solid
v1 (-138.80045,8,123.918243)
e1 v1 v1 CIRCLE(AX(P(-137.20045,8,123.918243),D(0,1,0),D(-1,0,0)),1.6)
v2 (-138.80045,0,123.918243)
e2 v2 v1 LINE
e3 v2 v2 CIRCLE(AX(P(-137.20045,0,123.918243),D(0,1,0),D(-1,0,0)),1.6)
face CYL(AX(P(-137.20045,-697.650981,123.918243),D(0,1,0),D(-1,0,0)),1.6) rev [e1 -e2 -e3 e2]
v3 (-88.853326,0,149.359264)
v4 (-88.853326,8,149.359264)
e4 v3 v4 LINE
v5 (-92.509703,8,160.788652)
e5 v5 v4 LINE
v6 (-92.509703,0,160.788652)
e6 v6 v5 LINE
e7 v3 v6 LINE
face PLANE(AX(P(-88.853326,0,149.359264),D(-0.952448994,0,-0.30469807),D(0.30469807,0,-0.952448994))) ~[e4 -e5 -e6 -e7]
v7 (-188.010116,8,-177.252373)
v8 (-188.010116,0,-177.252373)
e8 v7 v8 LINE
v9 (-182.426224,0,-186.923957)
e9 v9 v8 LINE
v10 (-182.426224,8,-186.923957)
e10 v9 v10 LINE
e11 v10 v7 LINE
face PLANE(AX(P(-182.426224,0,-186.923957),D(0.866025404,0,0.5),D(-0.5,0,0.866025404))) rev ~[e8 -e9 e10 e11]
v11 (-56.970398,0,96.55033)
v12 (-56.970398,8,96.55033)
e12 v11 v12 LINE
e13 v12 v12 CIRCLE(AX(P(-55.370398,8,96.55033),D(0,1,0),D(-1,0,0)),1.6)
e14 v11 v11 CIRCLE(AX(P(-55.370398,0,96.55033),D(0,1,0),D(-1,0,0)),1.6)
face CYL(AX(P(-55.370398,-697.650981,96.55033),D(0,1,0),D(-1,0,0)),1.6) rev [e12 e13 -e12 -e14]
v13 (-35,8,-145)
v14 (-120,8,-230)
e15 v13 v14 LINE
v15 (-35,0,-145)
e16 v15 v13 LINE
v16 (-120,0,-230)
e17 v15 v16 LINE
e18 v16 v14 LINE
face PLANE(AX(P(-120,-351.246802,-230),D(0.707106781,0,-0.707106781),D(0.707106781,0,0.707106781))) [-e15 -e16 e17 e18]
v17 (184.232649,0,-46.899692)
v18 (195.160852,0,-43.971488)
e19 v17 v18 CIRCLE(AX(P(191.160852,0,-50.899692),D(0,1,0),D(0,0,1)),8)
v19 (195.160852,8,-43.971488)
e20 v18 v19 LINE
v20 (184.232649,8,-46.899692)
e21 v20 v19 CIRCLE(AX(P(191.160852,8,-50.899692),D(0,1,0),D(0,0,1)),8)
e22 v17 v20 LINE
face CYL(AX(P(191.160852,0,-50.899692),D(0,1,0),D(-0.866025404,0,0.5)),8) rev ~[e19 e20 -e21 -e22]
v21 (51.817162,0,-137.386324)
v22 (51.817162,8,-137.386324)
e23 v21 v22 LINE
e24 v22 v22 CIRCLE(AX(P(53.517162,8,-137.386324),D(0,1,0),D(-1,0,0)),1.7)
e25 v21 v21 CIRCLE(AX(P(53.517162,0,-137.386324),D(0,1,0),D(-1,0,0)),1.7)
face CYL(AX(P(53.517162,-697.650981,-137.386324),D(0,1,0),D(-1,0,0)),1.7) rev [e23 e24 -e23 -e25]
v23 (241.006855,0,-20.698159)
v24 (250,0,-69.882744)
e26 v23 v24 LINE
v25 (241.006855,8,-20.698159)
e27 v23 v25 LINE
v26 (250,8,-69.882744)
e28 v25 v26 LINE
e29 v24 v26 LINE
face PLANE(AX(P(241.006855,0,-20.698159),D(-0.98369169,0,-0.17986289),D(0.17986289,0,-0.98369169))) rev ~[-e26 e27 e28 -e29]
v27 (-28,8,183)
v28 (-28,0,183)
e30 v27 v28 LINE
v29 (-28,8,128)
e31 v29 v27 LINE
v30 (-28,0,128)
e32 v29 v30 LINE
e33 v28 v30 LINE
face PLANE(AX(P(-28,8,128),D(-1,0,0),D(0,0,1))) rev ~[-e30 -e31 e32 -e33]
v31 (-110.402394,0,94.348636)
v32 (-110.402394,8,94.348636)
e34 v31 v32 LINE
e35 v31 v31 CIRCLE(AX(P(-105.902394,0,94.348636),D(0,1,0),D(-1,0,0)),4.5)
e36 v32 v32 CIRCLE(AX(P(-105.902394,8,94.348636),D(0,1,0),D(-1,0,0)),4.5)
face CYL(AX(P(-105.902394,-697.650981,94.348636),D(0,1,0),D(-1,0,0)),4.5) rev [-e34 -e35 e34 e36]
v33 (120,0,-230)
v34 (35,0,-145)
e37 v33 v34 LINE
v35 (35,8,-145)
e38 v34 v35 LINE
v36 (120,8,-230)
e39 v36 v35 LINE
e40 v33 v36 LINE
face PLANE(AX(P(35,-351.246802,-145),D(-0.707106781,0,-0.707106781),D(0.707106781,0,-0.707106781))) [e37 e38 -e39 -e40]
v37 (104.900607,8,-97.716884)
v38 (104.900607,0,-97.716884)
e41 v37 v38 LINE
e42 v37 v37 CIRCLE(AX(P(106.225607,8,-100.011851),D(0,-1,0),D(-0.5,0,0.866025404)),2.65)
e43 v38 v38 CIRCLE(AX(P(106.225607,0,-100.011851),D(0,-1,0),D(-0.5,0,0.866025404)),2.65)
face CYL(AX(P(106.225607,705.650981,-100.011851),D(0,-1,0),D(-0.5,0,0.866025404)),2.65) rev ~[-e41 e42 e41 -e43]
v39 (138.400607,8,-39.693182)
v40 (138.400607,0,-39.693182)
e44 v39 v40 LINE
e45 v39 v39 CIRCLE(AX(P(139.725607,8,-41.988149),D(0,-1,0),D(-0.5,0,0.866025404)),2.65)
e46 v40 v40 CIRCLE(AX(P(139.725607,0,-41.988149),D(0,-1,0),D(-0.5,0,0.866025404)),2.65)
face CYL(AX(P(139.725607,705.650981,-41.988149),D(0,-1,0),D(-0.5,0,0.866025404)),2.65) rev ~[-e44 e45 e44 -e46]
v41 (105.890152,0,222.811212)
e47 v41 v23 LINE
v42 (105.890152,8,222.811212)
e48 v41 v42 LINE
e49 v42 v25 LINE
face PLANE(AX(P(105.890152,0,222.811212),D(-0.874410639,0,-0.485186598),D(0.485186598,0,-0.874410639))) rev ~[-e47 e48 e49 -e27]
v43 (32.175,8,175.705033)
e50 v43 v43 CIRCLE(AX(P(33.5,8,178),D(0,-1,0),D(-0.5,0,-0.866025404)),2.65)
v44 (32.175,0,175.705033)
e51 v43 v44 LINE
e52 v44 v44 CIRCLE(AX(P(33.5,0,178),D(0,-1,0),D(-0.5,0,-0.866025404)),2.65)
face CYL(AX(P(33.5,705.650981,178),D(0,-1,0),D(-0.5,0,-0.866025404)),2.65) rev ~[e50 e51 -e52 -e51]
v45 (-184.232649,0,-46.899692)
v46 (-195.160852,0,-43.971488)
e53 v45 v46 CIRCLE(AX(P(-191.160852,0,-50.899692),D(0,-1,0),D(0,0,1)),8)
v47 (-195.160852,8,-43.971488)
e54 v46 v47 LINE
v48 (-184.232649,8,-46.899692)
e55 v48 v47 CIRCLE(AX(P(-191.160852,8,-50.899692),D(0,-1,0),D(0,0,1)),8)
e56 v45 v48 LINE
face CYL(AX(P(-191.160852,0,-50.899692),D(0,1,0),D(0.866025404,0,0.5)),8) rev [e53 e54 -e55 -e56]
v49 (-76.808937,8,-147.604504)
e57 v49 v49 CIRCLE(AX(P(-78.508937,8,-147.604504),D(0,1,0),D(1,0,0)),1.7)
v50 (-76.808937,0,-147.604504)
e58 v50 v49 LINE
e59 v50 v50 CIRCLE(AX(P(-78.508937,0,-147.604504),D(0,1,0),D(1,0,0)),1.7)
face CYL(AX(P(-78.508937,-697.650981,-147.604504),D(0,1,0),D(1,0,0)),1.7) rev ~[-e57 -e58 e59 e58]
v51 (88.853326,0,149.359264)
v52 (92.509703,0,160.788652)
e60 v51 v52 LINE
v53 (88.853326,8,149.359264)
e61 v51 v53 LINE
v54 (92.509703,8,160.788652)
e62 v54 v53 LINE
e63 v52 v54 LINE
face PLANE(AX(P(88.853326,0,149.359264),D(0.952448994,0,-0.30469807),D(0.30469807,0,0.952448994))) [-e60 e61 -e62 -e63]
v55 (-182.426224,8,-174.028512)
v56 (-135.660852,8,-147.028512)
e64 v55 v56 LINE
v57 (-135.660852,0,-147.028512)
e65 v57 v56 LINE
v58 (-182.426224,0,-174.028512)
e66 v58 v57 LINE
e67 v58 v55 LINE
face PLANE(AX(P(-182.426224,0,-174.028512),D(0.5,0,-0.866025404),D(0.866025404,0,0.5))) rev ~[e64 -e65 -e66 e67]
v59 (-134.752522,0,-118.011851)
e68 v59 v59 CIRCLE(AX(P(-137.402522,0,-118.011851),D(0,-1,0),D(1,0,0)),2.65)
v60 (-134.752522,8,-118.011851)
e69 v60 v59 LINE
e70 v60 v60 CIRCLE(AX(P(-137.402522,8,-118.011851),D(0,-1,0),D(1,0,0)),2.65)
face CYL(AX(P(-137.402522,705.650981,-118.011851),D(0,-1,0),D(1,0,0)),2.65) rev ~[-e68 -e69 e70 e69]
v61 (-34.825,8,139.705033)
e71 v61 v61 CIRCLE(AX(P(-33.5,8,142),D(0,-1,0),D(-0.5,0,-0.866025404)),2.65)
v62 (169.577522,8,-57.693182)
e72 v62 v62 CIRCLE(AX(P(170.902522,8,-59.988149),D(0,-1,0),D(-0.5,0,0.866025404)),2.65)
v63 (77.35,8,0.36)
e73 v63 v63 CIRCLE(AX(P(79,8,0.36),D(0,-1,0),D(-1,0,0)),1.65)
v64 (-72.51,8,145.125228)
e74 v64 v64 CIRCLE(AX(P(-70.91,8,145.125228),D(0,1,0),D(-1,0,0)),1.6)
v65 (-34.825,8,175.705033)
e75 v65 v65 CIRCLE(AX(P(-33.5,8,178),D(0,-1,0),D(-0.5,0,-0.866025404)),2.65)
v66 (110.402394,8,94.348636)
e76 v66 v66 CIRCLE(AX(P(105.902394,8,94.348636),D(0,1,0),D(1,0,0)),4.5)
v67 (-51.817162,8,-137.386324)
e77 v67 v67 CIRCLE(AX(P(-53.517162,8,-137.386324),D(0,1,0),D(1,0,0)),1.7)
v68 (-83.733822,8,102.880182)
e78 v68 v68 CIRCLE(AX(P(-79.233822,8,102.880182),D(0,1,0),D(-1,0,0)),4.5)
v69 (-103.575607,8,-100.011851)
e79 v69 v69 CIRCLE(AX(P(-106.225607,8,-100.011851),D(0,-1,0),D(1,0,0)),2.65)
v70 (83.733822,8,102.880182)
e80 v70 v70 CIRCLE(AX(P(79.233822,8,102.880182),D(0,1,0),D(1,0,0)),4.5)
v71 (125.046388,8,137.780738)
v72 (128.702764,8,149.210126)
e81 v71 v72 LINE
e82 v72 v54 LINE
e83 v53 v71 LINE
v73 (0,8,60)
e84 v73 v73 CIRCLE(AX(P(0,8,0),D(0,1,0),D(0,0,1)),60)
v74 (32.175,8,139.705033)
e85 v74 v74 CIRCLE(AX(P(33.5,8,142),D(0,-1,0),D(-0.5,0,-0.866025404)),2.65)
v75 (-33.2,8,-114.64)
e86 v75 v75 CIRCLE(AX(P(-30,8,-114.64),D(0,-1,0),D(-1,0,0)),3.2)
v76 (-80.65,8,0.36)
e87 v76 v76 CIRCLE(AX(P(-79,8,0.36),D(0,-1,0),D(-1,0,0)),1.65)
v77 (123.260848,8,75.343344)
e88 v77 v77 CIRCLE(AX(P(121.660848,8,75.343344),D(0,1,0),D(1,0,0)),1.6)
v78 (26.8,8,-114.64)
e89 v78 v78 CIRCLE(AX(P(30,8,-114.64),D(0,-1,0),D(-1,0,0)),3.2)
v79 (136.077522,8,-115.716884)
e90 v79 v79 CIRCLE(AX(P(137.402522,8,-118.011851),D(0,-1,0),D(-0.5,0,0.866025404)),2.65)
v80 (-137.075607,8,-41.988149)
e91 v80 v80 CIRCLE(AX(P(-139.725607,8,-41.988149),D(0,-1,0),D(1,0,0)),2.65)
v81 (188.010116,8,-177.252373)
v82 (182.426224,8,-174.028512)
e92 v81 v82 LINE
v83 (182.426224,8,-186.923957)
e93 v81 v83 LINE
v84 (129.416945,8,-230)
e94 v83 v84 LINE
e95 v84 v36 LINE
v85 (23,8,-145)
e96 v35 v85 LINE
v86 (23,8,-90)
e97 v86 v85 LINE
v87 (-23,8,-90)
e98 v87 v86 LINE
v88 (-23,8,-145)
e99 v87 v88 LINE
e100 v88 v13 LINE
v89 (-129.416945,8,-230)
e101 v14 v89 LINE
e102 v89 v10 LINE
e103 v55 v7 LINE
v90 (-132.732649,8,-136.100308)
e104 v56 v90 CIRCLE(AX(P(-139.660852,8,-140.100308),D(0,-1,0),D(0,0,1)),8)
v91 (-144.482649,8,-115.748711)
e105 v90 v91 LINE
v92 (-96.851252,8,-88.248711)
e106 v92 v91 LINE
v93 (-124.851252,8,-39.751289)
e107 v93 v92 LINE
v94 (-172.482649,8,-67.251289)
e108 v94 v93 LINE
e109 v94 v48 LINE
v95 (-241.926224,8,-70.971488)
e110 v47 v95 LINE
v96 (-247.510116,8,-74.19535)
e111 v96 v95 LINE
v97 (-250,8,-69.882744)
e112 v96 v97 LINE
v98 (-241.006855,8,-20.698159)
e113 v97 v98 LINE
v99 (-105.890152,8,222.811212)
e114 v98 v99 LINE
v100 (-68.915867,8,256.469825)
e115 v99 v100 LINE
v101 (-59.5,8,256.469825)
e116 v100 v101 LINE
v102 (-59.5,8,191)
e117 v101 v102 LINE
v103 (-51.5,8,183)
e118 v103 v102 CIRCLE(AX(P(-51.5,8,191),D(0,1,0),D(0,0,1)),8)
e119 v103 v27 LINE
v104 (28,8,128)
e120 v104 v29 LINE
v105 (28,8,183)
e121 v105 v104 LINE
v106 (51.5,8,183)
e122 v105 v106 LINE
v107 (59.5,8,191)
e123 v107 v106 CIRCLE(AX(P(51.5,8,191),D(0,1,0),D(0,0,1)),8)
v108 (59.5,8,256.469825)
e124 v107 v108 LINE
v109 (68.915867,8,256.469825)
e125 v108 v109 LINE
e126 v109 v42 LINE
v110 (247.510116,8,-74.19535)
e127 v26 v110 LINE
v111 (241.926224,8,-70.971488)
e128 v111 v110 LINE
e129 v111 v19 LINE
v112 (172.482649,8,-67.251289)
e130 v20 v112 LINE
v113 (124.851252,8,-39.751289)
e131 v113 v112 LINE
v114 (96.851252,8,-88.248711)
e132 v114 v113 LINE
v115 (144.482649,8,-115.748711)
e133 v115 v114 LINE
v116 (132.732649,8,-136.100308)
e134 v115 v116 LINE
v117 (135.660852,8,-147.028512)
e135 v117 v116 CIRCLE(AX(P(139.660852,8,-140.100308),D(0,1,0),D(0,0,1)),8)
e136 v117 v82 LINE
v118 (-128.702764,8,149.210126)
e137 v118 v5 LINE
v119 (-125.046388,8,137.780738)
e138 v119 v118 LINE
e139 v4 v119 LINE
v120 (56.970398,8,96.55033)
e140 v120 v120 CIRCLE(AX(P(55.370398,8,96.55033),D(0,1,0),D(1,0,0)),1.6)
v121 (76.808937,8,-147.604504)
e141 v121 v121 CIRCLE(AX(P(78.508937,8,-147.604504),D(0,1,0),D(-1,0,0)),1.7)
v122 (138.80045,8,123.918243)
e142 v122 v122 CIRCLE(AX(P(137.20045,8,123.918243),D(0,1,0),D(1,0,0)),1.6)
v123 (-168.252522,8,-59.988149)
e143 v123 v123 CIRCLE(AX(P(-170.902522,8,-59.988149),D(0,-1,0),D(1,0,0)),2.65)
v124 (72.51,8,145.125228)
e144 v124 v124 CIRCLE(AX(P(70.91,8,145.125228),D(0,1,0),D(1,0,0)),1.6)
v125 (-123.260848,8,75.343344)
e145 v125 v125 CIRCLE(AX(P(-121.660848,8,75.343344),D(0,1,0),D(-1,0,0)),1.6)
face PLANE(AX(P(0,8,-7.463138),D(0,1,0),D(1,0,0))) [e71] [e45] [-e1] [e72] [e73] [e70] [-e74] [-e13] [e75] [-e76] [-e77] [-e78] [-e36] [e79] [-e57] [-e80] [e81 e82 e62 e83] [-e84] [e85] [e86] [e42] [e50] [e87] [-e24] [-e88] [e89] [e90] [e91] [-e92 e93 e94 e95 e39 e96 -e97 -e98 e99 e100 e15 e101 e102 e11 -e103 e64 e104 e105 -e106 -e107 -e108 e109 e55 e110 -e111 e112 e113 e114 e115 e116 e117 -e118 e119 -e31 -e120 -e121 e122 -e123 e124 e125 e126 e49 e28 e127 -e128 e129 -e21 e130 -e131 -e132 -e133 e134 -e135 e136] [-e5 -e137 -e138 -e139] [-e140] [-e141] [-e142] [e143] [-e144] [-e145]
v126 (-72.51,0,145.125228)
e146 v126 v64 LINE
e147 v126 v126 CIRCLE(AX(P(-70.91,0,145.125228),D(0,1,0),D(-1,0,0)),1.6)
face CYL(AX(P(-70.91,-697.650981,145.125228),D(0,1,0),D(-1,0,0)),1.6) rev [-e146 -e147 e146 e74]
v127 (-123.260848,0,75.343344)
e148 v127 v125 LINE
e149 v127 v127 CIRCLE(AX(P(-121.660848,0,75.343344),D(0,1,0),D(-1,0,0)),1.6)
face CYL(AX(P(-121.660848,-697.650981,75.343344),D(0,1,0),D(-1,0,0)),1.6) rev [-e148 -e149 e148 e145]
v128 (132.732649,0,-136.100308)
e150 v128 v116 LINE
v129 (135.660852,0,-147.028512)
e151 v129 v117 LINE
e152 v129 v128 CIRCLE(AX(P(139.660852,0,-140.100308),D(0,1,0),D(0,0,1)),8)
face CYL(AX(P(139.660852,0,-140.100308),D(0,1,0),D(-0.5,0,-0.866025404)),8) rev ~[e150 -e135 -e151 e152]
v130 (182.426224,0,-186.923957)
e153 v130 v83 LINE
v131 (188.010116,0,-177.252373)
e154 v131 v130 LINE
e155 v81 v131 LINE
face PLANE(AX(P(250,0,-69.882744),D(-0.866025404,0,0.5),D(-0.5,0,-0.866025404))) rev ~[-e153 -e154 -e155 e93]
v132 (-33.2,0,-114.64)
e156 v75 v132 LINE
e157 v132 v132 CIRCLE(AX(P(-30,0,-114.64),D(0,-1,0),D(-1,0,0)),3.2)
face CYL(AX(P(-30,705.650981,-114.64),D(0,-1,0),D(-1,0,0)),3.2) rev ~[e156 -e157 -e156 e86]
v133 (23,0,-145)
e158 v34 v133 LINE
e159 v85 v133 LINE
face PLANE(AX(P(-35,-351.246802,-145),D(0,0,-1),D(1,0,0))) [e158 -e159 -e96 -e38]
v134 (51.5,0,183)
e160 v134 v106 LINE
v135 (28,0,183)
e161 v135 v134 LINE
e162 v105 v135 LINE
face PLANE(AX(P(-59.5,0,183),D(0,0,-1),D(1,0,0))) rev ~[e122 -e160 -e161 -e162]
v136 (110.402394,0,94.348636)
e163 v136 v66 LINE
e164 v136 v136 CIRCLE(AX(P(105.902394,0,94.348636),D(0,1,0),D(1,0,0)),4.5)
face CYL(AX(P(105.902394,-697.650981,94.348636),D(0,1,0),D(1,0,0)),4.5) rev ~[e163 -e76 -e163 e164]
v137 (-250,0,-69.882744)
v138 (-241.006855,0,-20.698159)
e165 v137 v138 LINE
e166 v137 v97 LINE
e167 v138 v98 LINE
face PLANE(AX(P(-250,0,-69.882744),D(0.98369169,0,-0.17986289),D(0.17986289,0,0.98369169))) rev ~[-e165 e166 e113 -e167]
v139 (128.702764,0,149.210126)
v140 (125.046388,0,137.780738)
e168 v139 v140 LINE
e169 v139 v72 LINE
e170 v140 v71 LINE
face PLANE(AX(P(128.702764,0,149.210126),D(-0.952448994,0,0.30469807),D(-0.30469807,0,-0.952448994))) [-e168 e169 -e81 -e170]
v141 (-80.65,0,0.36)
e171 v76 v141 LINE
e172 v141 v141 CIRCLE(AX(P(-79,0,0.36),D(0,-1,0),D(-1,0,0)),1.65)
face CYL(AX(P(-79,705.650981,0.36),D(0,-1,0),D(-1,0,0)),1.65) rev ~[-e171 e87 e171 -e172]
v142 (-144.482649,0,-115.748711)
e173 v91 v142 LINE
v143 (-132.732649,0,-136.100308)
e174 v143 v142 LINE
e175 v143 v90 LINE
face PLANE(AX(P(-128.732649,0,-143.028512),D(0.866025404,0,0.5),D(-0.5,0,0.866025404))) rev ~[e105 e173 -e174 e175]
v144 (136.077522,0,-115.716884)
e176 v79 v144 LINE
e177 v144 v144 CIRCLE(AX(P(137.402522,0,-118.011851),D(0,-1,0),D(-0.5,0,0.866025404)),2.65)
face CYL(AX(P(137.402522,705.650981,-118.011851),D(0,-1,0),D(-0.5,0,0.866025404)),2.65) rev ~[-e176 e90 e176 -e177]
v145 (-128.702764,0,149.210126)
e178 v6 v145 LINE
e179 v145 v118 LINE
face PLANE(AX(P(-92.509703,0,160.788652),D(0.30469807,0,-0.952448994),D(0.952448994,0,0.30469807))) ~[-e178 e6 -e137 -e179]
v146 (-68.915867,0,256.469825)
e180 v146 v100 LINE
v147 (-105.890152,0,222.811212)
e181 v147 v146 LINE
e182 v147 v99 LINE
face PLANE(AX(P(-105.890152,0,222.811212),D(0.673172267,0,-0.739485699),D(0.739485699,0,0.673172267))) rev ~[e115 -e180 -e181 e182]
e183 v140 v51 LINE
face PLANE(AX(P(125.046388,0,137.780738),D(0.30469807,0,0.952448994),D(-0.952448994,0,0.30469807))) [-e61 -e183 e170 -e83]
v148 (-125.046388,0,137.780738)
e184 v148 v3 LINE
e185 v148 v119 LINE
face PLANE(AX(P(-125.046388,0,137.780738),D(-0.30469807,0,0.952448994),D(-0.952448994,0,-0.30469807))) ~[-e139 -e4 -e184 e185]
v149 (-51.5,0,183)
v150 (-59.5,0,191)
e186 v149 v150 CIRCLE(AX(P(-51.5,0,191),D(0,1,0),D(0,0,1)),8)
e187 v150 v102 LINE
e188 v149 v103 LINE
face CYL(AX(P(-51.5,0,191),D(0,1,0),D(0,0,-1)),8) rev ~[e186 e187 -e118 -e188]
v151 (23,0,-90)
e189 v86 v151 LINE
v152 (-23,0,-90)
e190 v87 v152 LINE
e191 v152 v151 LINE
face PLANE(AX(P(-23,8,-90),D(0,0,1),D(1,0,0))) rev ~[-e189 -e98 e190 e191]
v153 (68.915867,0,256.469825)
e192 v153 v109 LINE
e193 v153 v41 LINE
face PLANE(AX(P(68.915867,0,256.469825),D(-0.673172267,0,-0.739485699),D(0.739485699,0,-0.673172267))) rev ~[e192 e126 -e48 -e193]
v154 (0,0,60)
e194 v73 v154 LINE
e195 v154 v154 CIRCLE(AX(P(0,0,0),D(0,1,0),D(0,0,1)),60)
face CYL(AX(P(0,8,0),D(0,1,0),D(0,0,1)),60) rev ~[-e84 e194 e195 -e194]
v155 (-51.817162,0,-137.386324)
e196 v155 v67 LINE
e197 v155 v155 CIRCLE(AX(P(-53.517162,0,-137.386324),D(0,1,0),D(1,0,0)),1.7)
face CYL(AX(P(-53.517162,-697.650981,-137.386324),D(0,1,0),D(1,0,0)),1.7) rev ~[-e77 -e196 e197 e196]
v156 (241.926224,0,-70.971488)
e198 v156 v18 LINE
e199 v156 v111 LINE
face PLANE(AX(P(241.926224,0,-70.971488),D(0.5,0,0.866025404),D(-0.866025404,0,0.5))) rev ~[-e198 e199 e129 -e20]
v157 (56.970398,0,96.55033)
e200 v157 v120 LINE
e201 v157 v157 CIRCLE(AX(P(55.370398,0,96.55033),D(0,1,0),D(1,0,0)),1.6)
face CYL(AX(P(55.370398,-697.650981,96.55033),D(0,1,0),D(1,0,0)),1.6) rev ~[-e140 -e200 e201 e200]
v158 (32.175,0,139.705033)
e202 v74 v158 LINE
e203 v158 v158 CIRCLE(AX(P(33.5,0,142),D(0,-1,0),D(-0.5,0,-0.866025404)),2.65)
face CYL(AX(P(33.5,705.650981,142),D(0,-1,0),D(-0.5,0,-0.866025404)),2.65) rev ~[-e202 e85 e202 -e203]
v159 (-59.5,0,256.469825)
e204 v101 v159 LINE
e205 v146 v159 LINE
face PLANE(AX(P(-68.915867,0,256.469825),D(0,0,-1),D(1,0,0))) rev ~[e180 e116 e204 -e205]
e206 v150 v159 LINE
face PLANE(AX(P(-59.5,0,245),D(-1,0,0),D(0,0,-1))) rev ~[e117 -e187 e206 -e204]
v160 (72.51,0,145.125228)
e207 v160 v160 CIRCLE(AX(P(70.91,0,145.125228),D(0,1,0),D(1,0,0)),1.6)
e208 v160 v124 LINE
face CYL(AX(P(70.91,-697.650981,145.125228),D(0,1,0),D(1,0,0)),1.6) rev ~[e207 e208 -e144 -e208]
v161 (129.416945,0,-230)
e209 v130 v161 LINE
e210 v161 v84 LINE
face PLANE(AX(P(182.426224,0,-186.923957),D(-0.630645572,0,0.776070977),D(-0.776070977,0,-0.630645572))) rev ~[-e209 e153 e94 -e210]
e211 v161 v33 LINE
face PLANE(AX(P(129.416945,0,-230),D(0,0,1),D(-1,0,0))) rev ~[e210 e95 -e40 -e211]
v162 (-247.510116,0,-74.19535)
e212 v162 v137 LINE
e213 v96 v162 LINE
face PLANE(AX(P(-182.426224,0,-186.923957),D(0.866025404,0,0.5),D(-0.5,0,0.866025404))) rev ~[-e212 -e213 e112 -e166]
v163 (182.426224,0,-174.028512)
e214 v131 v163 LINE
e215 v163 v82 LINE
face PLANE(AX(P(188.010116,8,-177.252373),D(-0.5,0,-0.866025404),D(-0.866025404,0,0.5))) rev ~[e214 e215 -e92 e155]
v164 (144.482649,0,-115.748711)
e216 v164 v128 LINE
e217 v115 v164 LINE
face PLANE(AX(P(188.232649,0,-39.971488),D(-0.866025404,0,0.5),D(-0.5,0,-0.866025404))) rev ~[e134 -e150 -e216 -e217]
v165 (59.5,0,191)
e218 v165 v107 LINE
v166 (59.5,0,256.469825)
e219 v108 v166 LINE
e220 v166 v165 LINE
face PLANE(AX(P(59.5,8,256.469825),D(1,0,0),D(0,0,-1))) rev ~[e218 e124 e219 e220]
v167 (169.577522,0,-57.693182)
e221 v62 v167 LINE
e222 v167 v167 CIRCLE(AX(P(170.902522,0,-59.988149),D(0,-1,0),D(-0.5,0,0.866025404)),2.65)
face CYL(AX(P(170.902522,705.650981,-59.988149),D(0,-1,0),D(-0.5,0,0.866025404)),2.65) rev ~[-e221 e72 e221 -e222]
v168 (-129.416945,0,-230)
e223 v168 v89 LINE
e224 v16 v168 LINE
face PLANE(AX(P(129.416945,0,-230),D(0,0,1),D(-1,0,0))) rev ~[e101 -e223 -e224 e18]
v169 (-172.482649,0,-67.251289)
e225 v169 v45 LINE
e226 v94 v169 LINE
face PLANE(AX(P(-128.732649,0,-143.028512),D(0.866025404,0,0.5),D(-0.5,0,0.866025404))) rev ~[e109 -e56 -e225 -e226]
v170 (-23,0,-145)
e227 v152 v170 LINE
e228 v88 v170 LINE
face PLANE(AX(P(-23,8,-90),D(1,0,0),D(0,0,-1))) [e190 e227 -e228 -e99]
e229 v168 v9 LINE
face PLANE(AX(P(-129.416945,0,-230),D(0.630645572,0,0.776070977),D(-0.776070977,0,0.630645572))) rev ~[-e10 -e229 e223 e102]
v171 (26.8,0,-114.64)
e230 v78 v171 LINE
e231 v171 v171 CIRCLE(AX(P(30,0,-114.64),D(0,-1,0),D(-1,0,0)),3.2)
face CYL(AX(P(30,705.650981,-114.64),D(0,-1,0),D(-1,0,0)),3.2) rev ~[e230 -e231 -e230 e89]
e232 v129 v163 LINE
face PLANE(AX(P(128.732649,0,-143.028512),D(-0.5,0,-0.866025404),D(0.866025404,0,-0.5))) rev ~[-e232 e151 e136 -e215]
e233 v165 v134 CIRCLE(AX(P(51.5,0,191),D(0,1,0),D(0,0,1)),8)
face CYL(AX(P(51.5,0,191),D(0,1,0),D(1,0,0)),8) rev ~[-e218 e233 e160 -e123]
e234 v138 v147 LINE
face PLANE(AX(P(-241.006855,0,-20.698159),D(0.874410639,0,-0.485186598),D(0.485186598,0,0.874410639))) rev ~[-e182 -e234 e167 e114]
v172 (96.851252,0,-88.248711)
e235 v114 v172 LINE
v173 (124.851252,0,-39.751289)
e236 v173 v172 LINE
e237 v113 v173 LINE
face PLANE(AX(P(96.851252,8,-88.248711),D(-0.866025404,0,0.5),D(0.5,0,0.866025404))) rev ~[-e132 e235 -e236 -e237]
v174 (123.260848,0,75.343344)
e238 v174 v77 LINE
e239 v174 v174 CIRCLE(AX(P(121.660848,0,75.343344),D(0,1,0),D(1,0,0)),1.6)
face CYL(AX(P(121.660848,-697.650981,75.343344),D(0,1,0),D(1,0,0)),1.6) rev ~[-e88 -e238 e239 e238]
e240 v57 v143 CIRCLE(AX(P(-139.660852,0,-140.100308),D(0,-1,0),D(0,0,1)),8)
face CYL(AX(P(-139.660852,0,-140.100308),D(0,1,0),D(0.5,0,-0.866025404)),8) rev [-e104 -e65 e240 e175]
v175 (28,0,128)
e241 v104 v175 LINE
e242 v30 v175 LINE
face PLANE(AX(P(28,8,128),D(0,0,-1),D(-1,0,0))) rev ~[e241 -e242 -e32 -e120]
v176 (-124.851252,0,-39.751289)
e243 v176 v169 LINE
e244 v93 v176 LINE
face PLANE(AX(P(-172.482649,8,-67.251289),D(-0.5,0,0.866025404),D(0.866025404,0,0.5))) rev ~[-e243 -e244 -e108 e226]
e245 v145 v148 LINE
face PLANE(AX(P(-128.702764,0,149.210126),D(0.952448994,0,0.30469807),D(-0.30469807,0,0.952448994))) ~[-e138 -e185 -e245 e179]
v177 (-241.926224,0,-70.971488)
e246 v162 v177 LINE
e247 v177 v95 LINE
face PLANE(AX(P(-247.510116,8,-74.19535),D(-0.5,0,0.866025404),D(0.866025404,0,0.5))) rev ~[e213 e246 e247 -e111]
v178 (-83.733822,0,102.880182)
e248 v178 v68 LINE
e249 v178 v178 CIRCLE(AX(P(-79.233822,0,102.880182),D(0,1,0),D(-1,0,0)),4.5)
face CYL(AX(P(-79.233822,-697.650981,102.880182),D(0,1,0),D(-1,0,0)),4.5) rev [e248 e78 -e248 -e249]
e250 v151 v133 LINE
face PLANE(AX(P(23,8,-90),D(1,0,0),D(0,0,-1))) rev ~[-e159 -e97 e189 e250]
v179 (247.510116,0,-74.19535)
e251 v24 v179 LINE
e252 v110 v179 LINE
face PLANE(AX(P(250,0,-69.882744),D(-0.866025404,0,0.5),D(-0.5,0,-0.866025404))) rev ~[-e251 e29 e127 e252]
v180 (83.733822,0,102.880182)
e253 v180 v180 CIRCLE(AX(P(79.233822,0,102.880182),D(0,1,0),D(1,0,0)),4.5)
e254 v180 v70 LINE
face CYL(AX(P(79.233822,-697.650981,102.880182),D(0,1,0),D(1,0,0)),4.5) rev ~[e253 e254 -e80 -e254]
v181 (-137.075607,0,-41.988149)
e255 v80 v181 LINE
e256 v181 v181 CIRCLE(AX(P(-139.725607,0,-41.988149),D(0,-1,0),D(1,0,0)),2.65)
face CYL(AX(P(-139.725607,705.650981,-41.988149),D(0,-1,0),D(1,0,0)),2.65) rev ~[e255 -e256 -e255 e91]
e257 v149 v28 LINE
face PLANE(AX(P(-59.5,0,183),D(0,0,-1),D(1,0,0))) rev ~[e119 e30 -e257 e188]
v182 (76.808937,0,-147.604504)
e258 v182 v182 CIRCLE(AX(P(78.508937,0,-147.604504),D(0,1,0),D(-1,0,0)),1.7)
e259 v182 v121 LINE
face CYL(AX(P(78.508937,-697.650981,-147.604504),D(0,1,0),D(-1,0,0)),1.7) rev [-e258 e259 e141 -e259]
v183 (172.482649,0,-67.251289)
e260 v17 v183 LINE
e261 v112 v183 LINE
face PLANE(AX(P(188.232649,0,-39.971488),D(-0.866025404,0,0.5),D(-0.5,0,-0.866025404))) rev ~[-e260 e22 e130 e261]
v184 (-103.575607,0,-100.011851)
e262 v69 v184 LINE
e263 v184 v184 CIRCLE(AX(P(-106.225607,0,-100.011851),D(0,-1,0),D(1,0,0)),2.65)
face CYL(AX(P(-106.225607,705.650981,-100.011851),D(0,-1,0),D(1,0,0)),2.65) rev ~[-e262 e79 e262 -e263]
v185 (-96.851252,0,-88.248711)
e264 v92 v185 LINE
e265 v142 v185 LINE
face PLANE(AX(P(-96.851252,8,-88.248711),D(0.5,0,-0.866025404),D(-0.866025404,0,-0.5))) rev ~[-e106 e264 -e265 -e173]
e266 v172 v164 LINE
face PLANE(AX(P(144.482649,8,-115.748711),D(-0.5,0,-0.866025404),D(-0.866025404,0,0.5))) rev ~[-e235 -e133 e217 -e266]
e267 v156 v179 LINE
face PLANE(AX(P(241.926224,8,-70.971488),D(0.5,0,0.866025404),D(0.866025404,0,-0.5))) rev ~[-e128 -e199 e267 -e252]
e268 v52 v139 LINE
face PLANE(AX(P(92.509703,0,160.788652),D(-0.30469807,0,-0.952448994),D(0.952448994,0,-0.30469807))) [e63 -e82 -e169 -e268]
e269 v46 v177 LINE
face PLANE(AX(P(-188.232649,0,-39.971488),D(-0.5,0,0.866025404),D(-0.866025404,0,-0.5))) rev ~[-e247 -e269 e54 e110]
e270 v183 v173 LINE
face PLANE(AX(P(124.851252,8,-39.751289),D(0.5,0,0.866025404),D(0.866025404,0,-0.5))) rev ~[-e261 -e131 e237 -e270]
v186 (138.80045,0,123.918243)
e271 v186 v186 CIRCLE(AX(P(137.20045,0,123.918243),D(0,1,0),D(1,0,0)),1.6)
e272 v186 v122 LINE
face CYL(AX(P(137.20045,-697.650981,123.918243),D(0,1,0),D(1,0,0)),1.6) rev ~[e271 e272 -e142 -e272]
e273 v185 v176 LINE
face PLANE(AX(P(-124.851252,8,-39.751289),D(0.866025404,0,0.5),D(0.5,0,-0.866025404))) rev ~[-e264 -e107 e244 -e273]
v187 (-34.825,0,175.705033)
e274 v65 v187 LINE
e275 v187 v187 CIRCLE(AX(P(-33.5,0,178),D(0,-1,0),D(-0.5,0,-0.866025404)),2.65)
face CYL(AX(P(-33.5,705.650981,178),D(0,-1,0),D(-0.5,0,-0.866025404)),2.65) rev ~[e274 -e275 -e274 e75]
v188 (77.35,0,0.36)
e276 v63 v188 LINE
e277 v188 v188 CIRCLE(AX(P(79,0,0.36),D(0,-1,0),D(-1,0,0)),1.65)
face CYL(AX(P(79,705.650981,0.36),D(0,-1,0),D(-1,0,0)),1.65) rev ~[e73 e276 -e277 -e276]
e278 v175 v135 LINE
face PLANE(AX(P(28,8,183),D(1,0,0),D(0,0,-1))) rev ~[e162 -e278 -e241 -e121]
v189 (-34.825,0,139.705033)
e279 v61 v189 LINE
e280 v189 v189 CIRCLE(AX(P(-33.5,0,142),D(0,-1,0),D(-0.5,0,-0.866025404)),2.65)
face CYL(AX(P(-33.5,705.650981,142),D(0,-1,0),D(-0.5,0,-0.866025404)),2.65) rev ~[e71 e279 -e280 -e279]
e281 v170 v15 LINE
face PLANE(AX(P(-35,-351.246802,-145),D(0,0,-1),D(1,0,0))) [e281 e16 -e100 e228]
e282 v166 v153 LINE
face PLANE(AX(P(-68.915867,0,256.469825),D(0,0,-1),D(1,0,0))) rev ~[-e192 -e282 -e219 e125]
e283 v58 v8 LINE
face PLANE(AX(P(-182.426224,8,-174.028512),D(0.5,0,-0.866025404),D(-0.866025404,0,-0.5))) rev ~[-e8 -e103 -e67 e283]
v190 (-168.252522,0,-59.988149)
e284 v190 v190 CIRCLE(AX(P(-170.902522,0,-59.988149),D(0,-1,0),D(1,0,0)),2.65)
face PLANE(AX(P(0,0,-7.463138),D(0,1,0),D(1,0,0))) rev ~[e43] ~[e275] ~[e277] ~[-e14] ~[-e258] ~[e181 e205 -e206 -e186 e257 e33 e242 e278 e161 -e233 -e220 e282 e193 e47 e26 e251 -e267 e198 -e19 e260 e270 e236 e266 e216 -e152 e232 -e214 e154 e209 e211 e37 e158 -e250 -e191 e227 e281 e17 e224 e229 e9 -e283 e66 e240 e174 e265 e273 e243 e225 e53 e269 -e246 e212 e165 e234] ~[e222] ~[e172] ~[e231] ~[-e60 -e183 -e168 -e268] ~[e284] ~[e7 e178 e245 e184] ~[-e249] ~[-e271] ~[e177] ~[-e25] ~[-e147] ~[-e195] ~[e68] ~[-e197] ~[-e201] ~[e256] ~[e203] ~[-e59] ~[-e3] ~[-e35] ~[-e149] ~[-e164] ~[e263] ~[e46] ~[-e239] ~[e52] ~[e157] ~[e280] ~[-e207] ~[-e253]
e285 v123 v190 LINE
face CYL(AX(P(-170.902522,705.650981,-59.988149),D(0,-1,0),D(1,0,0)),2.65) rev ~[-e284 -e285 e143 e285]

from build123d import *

# Parameters (mm, degrees)
SKETCH_1_W               = 119
SKETCH_1_H               = 62
EXTRUDE_1_DEPTH          = 8
CUT_EXTRUDE_1_REACH      = 360.247
HOLE_WIZARD_M5_1_D       = 5.3
SKETCH_11_W              = 119
SKETCH_11_H              = 11.469825071
CUT_EXTRUDE_5_DEPTH      = 359.24680204
PATTERN_CIRCULAR_1_COUNT = 3
CUT_EXTRUDE_2_DEPTH      = 359.24680204
CUT_EXTRUDE_2_DEPTH_BACK = 359.24680204
SKETCH_7_W               = 46
SKETCH_7_H               = 140
CUT_EXTRUDE_4_DEPTH      = 359.24680204
HOLE_WIZARD_M6_1_D       = 6.4
CUT_EXTRUDE_6936_REACH   = 360.247
SKETCH_10_R              = 60
FILLET_4_R               = 8
HOLE_WIZARD_M4_1_D       = 3.3
HOLE_WIZARD_M3_1_D       = 3.2
HOLE_WIZARD_9_0_9_1_D    = 9
CUT_EXTRUDE_6_DEPTH      = 10
HOLE_WIZARD_M3_3_D       = 3.4


with BuildPart() as part:
    # 草图1 → 凸台-拉伸1 (new body)
    with BuildSketch(Plane(origin=(0, 0, 0), x_dir=(1, 0, 0), z_dir=(0, 1, 0))):
        Polygon((-182.426223927, 186.923957016), (-250, 69.882743599), (-241.006855494, 20.698159104), (-105.890151719, -222.811211717), (-68.915866776, -256.469825071), (68.915866776, -256.469825071), (105.890151719, -222.811211717), (241.006855494, 20.698159104), (250, 69.882743599), (182.426223927, 186.923957016), (129.416945427, 230), (-129.416945427, 230), align=None)
        Polygon((188.232648893, 39.971488475), (128.732648893, 143.028511525), (182.426223927, 174.028511525), (241.926223927, 70.971488475), align=None, mode=Mode.SUBTRACT)
        Polygon((-128.732648893, 143.028511525), (-188.232648893, 39.971488475), (-241.926223927, 70.971488475), (-182.426223927, 174.028511525), align=None, mode=Mode.SUBTRACT)
        with Locations((0, -214)):
            Rectangle(SKETCH_1_W, SKETCH_1_H, mode=Mode.SUBTRACT)
    extrude(amount=EXTRUDE_1_DEPTH)

    # 草图2 → 切除-拉伸1 (cut, up to next)
    with BuildSketch(Plane(origin=(0, 8, 0), x_dir=(1, 0, 0), z_dir=(0, 1, 0)), mode=Mode.PRIVATE) as cut_extrude_1_sk1:
        Polygon((-124.851251684, 39.751288694), (-96.851251684, 88.248711306), (-144.482648893, 115.748711306), (-172.482648893, 67.251288694), align=None)
    cut_extrude_1_tool1 = extrude(cut_extrude_1_sk1.sketch, amount=-CUT_EXTRUDE_1_REACH, mode=Mode.PRIVATE) & part.part
    cut_extrude_1 = cut_extrude_1_tool1.solids().sort_by_distance((-134.66695, 8, -77.75))[0]
    add(cut_extrude_1, mode=Mode.SUBTRACT)

    # M5 间隙孔1 (through all)
    with Locations(Plane(origin=(0, 8, 0), x_dir=(-1, 0, 0), z_dir=(0, 1, 0))):
        with Locations((106.225607337, -100.011851027), (137.402521874, -118.011851027), (139.725607337, -41.988148973), (170.902521874, -59.988148973)):
            hole_wizard_m5_1 = Hole(HOLE_WIZARD_M5_1_D / 2)

    # 草图11 → 切除-拉伸5 (cut, through all)
    with BuildSketch(Plane(origin=(0, 8, 0), x_dir=(1, 0, 0), z_dir=(0, 1, 0))):
        Polygon((182.426223927, 174.028511525), (241.926223927, 70.971488475), (247.510115621, 74.195349848), (188.010115621, 177.252372898), align=None)
        with Locations((0, -250.734912536)):
            Rectangle(SKETCH_11_W, SKETCH_11_H)
        Polygon((-241.926223927, 70.971488475), (-182.426223927, 174.028511525), (-188.010115621, 177.252372898), (-247.510115621, 74.195349848), align=None)
    extrude(amount=-CUT_EXTRUDE_5_DEPTH, mode=Mode.SUBTRACT)

    # 阵列(圆周)1: 切除-拉伸1, M5 间隙孔1 ×3 about axis
    pattern_circular_1_axis = Axis((0, 0, 0), (0, 1, 0))
    add([cut_extrude_1.rotate(pattern_circular_1_axis, i * 360 / PATTERN_CIRCULAR_1_COUNT) for i in range(1, PATTERN_CIRCULAR_1_COUNT)], mode=Mode.SUBTRACT)
    add([hole_wizard_m5_1.rotate(pattern_circular_1_axis, i * 360 / PATTERN_CIRCULAR_1_COUNT) for i in range(1, PATTERN_CIRCULAR_1_COUNT)], mode=Mode.SUBTRACT)

    # 草图5 → 切除-拉伸2 (cut, two sides: drawn at the far end of the back side and taken through both)
    with BuildSketch(Plane(origin=(0, 8, 0), x_dir=(1, 0, 0), z_dir=(0, 1, 0)).offset(-CUT_EXTRUDE_2_DEPTH_BACK)):
        Polygon((35, 145), (120, 230), (-120, 230), (-35, 145), align=None)
    extrude(amount=CUT_EXTRUDE_2_DEPTH + CUT_EXTRUDE_2_DEPTH_BACK, mode=Mode.SUBTRACT)

    # 草图7 → 切除-拉伸4 (cut, through all)
    with BuildSketch(Plane(origin=(0, 8, 0), x_dir=(1, 0, 0), z_dir=(0, 1, 0))):
        with Locations((0, 160)):
            Rectangle(SKETCH_7_W, SKETCH_7_H)
    extrude(amount=-CUT_EXTRUDE_4_DEPTH, mode=Mode.SUBTRACT)

    # M6 间隙孔1 (through all)
    with Locations(Plane(origin=(0, 8, 0), x_dir=(1, 0, 0), z_dir=(0, 1, 0))):
        with Locations((30, 114.64), (-30, 114.64)):
            Hole(HOLE_WIZARD_M6_1_D / 2)

    # 草图10 → Cut-Extrude 6936 (cut, up to next)
    with BuildSketch(Plane(origin=(0, 8, 0), x_dir=(1, 0, 0), z_dir=(0, 1, 0)), mode=Mode.PRIVATE) as cut_extrude_6936_sk1:
        with Locations(Location((0, 0, 0), (0, 0, 270))):
            Circle(SKETCH_10_R)
    cut_extrude_6936_tool1 = extrude(cut_extrude_6936_sk1.sketch, amount=-CUT_EXTRUDE_6936_REACH, mode=Mode.PRIVATE) & part.part
    add(cut_extrude_6936_tool1.solids().sort_by_distance((0, 8, 0))[0], mode=Mode.SUBTRACT)

    # 圆角4
    fillet_4_edges = [part.edges().sort_by_distance(p)[0] for p in [
        (-128.732648893, 4, -143.028511525),
        (-188.232648893, 4, -39.971488475),
        (188.232648893, 4, -39.971488475),
        (128.732648893, 4, -143.028511525),
        (-59.5, 4, 183),
        (59.5, 4, 183),
    ]]
    fillet(fillet_4_edges, radius=FILLET_4_R)

    # M4 螺纹孔1 (through all)
    with Locations(Plane(origin=(0, 8, 0), x_dir=(1, 0, 0), z_dir=(0, 1, 0))):
        with Locations((-79, -0.36), (79, -0.36)):
            Hole(HOLE_WIZARD_M4_1_D / 2)

    # M3 间隙孔1 (through all)
    with Locations(Plane(origin=(0, 0, 0), x_dir=(-1, 0, 0), z_dir=(0, -1, 0))):
        with Locations((-121.660848414, -75.343344122), (-70.91, -145.125228485), (-137.200449982, -123.918242815), (-55.370398432, -96.550329791)):
            hole_wizard_m3_1 = Hole(HOLE_WIZARD_M3_1_D / 2)

    # Ø9.0 (9) 直径孔1 (through all)
    with Locations(Plane(origin=(0, 0, 0), x_dir=(-1, 0, 0), z_dir=(0, -1, 0))):
        with Locations((-105.902393669, -94.348635597), (-79.233821838, -102.880181556)):
            hole_wizard_9_0_9_1 = Hole(HOLE_WIZARD_9_0_9_1_D / 2)

    # 草图21 → 切除-拉伸6 (cut)
    with BuildSketch(Plane.XZ):
        Polygon((88.85332577, 149.359264422), (92.509702609, 160.78865235), (128.702764381, 149.210125692), (125.046387542, 137.780737764), align=None)
    cut_extrude_6 = extrude(amount=-CUT_EXTRUDE_6_DEPTH, mode=Mode.SUBTRACT)

    # M3 间隙孔3 (through all)
    with Locations(Plane(origin=(0, 0, 0), x_dir=(-1, 0, 0), z_dir=(0, -1, 0))):
        with Locations((53.517161568, 137.386324493), (78.508936531, 147.604503599)):
            hole_wizard_m3_3 = Hole(HOLE_WIZARD_M3_3_D / 2)

    # 镜向1: M3 间隙孔1, Ø9.0 (9) 直径孔1, 切除-拉伸6, M3 间隙孔3 across plane
    add(hole_wizard_m3_1.mirror(Plane(origin=(0, 0, 0), x_dir=(0, 0, 1), z_dir=(1, 0, 0))), mode=Mode.SUBTRACT)
    add(hole_wizard_9_0_9_1.mirror(Plane(origin=(0, 0, 0), x_dir=(0, 0, 1), z_dir=(1, 0, 0))), mode=Mode.SUBTRACT)
    add(cut_extrude_6.mirror(Plane(origin=(0, 0, 0), x_dir=(0, 0, 1), z_dir=(1, 0, 0))), mode=Mode.SUBTRACT)
    add(hole_wizard_m3_3.mirror(Plane(origin=(0, 0, 0), x_dir=(0, 0, 1), z_dir=(1, 0, 0))), mode=Mode.SUBTRACT)


solid = part.part
